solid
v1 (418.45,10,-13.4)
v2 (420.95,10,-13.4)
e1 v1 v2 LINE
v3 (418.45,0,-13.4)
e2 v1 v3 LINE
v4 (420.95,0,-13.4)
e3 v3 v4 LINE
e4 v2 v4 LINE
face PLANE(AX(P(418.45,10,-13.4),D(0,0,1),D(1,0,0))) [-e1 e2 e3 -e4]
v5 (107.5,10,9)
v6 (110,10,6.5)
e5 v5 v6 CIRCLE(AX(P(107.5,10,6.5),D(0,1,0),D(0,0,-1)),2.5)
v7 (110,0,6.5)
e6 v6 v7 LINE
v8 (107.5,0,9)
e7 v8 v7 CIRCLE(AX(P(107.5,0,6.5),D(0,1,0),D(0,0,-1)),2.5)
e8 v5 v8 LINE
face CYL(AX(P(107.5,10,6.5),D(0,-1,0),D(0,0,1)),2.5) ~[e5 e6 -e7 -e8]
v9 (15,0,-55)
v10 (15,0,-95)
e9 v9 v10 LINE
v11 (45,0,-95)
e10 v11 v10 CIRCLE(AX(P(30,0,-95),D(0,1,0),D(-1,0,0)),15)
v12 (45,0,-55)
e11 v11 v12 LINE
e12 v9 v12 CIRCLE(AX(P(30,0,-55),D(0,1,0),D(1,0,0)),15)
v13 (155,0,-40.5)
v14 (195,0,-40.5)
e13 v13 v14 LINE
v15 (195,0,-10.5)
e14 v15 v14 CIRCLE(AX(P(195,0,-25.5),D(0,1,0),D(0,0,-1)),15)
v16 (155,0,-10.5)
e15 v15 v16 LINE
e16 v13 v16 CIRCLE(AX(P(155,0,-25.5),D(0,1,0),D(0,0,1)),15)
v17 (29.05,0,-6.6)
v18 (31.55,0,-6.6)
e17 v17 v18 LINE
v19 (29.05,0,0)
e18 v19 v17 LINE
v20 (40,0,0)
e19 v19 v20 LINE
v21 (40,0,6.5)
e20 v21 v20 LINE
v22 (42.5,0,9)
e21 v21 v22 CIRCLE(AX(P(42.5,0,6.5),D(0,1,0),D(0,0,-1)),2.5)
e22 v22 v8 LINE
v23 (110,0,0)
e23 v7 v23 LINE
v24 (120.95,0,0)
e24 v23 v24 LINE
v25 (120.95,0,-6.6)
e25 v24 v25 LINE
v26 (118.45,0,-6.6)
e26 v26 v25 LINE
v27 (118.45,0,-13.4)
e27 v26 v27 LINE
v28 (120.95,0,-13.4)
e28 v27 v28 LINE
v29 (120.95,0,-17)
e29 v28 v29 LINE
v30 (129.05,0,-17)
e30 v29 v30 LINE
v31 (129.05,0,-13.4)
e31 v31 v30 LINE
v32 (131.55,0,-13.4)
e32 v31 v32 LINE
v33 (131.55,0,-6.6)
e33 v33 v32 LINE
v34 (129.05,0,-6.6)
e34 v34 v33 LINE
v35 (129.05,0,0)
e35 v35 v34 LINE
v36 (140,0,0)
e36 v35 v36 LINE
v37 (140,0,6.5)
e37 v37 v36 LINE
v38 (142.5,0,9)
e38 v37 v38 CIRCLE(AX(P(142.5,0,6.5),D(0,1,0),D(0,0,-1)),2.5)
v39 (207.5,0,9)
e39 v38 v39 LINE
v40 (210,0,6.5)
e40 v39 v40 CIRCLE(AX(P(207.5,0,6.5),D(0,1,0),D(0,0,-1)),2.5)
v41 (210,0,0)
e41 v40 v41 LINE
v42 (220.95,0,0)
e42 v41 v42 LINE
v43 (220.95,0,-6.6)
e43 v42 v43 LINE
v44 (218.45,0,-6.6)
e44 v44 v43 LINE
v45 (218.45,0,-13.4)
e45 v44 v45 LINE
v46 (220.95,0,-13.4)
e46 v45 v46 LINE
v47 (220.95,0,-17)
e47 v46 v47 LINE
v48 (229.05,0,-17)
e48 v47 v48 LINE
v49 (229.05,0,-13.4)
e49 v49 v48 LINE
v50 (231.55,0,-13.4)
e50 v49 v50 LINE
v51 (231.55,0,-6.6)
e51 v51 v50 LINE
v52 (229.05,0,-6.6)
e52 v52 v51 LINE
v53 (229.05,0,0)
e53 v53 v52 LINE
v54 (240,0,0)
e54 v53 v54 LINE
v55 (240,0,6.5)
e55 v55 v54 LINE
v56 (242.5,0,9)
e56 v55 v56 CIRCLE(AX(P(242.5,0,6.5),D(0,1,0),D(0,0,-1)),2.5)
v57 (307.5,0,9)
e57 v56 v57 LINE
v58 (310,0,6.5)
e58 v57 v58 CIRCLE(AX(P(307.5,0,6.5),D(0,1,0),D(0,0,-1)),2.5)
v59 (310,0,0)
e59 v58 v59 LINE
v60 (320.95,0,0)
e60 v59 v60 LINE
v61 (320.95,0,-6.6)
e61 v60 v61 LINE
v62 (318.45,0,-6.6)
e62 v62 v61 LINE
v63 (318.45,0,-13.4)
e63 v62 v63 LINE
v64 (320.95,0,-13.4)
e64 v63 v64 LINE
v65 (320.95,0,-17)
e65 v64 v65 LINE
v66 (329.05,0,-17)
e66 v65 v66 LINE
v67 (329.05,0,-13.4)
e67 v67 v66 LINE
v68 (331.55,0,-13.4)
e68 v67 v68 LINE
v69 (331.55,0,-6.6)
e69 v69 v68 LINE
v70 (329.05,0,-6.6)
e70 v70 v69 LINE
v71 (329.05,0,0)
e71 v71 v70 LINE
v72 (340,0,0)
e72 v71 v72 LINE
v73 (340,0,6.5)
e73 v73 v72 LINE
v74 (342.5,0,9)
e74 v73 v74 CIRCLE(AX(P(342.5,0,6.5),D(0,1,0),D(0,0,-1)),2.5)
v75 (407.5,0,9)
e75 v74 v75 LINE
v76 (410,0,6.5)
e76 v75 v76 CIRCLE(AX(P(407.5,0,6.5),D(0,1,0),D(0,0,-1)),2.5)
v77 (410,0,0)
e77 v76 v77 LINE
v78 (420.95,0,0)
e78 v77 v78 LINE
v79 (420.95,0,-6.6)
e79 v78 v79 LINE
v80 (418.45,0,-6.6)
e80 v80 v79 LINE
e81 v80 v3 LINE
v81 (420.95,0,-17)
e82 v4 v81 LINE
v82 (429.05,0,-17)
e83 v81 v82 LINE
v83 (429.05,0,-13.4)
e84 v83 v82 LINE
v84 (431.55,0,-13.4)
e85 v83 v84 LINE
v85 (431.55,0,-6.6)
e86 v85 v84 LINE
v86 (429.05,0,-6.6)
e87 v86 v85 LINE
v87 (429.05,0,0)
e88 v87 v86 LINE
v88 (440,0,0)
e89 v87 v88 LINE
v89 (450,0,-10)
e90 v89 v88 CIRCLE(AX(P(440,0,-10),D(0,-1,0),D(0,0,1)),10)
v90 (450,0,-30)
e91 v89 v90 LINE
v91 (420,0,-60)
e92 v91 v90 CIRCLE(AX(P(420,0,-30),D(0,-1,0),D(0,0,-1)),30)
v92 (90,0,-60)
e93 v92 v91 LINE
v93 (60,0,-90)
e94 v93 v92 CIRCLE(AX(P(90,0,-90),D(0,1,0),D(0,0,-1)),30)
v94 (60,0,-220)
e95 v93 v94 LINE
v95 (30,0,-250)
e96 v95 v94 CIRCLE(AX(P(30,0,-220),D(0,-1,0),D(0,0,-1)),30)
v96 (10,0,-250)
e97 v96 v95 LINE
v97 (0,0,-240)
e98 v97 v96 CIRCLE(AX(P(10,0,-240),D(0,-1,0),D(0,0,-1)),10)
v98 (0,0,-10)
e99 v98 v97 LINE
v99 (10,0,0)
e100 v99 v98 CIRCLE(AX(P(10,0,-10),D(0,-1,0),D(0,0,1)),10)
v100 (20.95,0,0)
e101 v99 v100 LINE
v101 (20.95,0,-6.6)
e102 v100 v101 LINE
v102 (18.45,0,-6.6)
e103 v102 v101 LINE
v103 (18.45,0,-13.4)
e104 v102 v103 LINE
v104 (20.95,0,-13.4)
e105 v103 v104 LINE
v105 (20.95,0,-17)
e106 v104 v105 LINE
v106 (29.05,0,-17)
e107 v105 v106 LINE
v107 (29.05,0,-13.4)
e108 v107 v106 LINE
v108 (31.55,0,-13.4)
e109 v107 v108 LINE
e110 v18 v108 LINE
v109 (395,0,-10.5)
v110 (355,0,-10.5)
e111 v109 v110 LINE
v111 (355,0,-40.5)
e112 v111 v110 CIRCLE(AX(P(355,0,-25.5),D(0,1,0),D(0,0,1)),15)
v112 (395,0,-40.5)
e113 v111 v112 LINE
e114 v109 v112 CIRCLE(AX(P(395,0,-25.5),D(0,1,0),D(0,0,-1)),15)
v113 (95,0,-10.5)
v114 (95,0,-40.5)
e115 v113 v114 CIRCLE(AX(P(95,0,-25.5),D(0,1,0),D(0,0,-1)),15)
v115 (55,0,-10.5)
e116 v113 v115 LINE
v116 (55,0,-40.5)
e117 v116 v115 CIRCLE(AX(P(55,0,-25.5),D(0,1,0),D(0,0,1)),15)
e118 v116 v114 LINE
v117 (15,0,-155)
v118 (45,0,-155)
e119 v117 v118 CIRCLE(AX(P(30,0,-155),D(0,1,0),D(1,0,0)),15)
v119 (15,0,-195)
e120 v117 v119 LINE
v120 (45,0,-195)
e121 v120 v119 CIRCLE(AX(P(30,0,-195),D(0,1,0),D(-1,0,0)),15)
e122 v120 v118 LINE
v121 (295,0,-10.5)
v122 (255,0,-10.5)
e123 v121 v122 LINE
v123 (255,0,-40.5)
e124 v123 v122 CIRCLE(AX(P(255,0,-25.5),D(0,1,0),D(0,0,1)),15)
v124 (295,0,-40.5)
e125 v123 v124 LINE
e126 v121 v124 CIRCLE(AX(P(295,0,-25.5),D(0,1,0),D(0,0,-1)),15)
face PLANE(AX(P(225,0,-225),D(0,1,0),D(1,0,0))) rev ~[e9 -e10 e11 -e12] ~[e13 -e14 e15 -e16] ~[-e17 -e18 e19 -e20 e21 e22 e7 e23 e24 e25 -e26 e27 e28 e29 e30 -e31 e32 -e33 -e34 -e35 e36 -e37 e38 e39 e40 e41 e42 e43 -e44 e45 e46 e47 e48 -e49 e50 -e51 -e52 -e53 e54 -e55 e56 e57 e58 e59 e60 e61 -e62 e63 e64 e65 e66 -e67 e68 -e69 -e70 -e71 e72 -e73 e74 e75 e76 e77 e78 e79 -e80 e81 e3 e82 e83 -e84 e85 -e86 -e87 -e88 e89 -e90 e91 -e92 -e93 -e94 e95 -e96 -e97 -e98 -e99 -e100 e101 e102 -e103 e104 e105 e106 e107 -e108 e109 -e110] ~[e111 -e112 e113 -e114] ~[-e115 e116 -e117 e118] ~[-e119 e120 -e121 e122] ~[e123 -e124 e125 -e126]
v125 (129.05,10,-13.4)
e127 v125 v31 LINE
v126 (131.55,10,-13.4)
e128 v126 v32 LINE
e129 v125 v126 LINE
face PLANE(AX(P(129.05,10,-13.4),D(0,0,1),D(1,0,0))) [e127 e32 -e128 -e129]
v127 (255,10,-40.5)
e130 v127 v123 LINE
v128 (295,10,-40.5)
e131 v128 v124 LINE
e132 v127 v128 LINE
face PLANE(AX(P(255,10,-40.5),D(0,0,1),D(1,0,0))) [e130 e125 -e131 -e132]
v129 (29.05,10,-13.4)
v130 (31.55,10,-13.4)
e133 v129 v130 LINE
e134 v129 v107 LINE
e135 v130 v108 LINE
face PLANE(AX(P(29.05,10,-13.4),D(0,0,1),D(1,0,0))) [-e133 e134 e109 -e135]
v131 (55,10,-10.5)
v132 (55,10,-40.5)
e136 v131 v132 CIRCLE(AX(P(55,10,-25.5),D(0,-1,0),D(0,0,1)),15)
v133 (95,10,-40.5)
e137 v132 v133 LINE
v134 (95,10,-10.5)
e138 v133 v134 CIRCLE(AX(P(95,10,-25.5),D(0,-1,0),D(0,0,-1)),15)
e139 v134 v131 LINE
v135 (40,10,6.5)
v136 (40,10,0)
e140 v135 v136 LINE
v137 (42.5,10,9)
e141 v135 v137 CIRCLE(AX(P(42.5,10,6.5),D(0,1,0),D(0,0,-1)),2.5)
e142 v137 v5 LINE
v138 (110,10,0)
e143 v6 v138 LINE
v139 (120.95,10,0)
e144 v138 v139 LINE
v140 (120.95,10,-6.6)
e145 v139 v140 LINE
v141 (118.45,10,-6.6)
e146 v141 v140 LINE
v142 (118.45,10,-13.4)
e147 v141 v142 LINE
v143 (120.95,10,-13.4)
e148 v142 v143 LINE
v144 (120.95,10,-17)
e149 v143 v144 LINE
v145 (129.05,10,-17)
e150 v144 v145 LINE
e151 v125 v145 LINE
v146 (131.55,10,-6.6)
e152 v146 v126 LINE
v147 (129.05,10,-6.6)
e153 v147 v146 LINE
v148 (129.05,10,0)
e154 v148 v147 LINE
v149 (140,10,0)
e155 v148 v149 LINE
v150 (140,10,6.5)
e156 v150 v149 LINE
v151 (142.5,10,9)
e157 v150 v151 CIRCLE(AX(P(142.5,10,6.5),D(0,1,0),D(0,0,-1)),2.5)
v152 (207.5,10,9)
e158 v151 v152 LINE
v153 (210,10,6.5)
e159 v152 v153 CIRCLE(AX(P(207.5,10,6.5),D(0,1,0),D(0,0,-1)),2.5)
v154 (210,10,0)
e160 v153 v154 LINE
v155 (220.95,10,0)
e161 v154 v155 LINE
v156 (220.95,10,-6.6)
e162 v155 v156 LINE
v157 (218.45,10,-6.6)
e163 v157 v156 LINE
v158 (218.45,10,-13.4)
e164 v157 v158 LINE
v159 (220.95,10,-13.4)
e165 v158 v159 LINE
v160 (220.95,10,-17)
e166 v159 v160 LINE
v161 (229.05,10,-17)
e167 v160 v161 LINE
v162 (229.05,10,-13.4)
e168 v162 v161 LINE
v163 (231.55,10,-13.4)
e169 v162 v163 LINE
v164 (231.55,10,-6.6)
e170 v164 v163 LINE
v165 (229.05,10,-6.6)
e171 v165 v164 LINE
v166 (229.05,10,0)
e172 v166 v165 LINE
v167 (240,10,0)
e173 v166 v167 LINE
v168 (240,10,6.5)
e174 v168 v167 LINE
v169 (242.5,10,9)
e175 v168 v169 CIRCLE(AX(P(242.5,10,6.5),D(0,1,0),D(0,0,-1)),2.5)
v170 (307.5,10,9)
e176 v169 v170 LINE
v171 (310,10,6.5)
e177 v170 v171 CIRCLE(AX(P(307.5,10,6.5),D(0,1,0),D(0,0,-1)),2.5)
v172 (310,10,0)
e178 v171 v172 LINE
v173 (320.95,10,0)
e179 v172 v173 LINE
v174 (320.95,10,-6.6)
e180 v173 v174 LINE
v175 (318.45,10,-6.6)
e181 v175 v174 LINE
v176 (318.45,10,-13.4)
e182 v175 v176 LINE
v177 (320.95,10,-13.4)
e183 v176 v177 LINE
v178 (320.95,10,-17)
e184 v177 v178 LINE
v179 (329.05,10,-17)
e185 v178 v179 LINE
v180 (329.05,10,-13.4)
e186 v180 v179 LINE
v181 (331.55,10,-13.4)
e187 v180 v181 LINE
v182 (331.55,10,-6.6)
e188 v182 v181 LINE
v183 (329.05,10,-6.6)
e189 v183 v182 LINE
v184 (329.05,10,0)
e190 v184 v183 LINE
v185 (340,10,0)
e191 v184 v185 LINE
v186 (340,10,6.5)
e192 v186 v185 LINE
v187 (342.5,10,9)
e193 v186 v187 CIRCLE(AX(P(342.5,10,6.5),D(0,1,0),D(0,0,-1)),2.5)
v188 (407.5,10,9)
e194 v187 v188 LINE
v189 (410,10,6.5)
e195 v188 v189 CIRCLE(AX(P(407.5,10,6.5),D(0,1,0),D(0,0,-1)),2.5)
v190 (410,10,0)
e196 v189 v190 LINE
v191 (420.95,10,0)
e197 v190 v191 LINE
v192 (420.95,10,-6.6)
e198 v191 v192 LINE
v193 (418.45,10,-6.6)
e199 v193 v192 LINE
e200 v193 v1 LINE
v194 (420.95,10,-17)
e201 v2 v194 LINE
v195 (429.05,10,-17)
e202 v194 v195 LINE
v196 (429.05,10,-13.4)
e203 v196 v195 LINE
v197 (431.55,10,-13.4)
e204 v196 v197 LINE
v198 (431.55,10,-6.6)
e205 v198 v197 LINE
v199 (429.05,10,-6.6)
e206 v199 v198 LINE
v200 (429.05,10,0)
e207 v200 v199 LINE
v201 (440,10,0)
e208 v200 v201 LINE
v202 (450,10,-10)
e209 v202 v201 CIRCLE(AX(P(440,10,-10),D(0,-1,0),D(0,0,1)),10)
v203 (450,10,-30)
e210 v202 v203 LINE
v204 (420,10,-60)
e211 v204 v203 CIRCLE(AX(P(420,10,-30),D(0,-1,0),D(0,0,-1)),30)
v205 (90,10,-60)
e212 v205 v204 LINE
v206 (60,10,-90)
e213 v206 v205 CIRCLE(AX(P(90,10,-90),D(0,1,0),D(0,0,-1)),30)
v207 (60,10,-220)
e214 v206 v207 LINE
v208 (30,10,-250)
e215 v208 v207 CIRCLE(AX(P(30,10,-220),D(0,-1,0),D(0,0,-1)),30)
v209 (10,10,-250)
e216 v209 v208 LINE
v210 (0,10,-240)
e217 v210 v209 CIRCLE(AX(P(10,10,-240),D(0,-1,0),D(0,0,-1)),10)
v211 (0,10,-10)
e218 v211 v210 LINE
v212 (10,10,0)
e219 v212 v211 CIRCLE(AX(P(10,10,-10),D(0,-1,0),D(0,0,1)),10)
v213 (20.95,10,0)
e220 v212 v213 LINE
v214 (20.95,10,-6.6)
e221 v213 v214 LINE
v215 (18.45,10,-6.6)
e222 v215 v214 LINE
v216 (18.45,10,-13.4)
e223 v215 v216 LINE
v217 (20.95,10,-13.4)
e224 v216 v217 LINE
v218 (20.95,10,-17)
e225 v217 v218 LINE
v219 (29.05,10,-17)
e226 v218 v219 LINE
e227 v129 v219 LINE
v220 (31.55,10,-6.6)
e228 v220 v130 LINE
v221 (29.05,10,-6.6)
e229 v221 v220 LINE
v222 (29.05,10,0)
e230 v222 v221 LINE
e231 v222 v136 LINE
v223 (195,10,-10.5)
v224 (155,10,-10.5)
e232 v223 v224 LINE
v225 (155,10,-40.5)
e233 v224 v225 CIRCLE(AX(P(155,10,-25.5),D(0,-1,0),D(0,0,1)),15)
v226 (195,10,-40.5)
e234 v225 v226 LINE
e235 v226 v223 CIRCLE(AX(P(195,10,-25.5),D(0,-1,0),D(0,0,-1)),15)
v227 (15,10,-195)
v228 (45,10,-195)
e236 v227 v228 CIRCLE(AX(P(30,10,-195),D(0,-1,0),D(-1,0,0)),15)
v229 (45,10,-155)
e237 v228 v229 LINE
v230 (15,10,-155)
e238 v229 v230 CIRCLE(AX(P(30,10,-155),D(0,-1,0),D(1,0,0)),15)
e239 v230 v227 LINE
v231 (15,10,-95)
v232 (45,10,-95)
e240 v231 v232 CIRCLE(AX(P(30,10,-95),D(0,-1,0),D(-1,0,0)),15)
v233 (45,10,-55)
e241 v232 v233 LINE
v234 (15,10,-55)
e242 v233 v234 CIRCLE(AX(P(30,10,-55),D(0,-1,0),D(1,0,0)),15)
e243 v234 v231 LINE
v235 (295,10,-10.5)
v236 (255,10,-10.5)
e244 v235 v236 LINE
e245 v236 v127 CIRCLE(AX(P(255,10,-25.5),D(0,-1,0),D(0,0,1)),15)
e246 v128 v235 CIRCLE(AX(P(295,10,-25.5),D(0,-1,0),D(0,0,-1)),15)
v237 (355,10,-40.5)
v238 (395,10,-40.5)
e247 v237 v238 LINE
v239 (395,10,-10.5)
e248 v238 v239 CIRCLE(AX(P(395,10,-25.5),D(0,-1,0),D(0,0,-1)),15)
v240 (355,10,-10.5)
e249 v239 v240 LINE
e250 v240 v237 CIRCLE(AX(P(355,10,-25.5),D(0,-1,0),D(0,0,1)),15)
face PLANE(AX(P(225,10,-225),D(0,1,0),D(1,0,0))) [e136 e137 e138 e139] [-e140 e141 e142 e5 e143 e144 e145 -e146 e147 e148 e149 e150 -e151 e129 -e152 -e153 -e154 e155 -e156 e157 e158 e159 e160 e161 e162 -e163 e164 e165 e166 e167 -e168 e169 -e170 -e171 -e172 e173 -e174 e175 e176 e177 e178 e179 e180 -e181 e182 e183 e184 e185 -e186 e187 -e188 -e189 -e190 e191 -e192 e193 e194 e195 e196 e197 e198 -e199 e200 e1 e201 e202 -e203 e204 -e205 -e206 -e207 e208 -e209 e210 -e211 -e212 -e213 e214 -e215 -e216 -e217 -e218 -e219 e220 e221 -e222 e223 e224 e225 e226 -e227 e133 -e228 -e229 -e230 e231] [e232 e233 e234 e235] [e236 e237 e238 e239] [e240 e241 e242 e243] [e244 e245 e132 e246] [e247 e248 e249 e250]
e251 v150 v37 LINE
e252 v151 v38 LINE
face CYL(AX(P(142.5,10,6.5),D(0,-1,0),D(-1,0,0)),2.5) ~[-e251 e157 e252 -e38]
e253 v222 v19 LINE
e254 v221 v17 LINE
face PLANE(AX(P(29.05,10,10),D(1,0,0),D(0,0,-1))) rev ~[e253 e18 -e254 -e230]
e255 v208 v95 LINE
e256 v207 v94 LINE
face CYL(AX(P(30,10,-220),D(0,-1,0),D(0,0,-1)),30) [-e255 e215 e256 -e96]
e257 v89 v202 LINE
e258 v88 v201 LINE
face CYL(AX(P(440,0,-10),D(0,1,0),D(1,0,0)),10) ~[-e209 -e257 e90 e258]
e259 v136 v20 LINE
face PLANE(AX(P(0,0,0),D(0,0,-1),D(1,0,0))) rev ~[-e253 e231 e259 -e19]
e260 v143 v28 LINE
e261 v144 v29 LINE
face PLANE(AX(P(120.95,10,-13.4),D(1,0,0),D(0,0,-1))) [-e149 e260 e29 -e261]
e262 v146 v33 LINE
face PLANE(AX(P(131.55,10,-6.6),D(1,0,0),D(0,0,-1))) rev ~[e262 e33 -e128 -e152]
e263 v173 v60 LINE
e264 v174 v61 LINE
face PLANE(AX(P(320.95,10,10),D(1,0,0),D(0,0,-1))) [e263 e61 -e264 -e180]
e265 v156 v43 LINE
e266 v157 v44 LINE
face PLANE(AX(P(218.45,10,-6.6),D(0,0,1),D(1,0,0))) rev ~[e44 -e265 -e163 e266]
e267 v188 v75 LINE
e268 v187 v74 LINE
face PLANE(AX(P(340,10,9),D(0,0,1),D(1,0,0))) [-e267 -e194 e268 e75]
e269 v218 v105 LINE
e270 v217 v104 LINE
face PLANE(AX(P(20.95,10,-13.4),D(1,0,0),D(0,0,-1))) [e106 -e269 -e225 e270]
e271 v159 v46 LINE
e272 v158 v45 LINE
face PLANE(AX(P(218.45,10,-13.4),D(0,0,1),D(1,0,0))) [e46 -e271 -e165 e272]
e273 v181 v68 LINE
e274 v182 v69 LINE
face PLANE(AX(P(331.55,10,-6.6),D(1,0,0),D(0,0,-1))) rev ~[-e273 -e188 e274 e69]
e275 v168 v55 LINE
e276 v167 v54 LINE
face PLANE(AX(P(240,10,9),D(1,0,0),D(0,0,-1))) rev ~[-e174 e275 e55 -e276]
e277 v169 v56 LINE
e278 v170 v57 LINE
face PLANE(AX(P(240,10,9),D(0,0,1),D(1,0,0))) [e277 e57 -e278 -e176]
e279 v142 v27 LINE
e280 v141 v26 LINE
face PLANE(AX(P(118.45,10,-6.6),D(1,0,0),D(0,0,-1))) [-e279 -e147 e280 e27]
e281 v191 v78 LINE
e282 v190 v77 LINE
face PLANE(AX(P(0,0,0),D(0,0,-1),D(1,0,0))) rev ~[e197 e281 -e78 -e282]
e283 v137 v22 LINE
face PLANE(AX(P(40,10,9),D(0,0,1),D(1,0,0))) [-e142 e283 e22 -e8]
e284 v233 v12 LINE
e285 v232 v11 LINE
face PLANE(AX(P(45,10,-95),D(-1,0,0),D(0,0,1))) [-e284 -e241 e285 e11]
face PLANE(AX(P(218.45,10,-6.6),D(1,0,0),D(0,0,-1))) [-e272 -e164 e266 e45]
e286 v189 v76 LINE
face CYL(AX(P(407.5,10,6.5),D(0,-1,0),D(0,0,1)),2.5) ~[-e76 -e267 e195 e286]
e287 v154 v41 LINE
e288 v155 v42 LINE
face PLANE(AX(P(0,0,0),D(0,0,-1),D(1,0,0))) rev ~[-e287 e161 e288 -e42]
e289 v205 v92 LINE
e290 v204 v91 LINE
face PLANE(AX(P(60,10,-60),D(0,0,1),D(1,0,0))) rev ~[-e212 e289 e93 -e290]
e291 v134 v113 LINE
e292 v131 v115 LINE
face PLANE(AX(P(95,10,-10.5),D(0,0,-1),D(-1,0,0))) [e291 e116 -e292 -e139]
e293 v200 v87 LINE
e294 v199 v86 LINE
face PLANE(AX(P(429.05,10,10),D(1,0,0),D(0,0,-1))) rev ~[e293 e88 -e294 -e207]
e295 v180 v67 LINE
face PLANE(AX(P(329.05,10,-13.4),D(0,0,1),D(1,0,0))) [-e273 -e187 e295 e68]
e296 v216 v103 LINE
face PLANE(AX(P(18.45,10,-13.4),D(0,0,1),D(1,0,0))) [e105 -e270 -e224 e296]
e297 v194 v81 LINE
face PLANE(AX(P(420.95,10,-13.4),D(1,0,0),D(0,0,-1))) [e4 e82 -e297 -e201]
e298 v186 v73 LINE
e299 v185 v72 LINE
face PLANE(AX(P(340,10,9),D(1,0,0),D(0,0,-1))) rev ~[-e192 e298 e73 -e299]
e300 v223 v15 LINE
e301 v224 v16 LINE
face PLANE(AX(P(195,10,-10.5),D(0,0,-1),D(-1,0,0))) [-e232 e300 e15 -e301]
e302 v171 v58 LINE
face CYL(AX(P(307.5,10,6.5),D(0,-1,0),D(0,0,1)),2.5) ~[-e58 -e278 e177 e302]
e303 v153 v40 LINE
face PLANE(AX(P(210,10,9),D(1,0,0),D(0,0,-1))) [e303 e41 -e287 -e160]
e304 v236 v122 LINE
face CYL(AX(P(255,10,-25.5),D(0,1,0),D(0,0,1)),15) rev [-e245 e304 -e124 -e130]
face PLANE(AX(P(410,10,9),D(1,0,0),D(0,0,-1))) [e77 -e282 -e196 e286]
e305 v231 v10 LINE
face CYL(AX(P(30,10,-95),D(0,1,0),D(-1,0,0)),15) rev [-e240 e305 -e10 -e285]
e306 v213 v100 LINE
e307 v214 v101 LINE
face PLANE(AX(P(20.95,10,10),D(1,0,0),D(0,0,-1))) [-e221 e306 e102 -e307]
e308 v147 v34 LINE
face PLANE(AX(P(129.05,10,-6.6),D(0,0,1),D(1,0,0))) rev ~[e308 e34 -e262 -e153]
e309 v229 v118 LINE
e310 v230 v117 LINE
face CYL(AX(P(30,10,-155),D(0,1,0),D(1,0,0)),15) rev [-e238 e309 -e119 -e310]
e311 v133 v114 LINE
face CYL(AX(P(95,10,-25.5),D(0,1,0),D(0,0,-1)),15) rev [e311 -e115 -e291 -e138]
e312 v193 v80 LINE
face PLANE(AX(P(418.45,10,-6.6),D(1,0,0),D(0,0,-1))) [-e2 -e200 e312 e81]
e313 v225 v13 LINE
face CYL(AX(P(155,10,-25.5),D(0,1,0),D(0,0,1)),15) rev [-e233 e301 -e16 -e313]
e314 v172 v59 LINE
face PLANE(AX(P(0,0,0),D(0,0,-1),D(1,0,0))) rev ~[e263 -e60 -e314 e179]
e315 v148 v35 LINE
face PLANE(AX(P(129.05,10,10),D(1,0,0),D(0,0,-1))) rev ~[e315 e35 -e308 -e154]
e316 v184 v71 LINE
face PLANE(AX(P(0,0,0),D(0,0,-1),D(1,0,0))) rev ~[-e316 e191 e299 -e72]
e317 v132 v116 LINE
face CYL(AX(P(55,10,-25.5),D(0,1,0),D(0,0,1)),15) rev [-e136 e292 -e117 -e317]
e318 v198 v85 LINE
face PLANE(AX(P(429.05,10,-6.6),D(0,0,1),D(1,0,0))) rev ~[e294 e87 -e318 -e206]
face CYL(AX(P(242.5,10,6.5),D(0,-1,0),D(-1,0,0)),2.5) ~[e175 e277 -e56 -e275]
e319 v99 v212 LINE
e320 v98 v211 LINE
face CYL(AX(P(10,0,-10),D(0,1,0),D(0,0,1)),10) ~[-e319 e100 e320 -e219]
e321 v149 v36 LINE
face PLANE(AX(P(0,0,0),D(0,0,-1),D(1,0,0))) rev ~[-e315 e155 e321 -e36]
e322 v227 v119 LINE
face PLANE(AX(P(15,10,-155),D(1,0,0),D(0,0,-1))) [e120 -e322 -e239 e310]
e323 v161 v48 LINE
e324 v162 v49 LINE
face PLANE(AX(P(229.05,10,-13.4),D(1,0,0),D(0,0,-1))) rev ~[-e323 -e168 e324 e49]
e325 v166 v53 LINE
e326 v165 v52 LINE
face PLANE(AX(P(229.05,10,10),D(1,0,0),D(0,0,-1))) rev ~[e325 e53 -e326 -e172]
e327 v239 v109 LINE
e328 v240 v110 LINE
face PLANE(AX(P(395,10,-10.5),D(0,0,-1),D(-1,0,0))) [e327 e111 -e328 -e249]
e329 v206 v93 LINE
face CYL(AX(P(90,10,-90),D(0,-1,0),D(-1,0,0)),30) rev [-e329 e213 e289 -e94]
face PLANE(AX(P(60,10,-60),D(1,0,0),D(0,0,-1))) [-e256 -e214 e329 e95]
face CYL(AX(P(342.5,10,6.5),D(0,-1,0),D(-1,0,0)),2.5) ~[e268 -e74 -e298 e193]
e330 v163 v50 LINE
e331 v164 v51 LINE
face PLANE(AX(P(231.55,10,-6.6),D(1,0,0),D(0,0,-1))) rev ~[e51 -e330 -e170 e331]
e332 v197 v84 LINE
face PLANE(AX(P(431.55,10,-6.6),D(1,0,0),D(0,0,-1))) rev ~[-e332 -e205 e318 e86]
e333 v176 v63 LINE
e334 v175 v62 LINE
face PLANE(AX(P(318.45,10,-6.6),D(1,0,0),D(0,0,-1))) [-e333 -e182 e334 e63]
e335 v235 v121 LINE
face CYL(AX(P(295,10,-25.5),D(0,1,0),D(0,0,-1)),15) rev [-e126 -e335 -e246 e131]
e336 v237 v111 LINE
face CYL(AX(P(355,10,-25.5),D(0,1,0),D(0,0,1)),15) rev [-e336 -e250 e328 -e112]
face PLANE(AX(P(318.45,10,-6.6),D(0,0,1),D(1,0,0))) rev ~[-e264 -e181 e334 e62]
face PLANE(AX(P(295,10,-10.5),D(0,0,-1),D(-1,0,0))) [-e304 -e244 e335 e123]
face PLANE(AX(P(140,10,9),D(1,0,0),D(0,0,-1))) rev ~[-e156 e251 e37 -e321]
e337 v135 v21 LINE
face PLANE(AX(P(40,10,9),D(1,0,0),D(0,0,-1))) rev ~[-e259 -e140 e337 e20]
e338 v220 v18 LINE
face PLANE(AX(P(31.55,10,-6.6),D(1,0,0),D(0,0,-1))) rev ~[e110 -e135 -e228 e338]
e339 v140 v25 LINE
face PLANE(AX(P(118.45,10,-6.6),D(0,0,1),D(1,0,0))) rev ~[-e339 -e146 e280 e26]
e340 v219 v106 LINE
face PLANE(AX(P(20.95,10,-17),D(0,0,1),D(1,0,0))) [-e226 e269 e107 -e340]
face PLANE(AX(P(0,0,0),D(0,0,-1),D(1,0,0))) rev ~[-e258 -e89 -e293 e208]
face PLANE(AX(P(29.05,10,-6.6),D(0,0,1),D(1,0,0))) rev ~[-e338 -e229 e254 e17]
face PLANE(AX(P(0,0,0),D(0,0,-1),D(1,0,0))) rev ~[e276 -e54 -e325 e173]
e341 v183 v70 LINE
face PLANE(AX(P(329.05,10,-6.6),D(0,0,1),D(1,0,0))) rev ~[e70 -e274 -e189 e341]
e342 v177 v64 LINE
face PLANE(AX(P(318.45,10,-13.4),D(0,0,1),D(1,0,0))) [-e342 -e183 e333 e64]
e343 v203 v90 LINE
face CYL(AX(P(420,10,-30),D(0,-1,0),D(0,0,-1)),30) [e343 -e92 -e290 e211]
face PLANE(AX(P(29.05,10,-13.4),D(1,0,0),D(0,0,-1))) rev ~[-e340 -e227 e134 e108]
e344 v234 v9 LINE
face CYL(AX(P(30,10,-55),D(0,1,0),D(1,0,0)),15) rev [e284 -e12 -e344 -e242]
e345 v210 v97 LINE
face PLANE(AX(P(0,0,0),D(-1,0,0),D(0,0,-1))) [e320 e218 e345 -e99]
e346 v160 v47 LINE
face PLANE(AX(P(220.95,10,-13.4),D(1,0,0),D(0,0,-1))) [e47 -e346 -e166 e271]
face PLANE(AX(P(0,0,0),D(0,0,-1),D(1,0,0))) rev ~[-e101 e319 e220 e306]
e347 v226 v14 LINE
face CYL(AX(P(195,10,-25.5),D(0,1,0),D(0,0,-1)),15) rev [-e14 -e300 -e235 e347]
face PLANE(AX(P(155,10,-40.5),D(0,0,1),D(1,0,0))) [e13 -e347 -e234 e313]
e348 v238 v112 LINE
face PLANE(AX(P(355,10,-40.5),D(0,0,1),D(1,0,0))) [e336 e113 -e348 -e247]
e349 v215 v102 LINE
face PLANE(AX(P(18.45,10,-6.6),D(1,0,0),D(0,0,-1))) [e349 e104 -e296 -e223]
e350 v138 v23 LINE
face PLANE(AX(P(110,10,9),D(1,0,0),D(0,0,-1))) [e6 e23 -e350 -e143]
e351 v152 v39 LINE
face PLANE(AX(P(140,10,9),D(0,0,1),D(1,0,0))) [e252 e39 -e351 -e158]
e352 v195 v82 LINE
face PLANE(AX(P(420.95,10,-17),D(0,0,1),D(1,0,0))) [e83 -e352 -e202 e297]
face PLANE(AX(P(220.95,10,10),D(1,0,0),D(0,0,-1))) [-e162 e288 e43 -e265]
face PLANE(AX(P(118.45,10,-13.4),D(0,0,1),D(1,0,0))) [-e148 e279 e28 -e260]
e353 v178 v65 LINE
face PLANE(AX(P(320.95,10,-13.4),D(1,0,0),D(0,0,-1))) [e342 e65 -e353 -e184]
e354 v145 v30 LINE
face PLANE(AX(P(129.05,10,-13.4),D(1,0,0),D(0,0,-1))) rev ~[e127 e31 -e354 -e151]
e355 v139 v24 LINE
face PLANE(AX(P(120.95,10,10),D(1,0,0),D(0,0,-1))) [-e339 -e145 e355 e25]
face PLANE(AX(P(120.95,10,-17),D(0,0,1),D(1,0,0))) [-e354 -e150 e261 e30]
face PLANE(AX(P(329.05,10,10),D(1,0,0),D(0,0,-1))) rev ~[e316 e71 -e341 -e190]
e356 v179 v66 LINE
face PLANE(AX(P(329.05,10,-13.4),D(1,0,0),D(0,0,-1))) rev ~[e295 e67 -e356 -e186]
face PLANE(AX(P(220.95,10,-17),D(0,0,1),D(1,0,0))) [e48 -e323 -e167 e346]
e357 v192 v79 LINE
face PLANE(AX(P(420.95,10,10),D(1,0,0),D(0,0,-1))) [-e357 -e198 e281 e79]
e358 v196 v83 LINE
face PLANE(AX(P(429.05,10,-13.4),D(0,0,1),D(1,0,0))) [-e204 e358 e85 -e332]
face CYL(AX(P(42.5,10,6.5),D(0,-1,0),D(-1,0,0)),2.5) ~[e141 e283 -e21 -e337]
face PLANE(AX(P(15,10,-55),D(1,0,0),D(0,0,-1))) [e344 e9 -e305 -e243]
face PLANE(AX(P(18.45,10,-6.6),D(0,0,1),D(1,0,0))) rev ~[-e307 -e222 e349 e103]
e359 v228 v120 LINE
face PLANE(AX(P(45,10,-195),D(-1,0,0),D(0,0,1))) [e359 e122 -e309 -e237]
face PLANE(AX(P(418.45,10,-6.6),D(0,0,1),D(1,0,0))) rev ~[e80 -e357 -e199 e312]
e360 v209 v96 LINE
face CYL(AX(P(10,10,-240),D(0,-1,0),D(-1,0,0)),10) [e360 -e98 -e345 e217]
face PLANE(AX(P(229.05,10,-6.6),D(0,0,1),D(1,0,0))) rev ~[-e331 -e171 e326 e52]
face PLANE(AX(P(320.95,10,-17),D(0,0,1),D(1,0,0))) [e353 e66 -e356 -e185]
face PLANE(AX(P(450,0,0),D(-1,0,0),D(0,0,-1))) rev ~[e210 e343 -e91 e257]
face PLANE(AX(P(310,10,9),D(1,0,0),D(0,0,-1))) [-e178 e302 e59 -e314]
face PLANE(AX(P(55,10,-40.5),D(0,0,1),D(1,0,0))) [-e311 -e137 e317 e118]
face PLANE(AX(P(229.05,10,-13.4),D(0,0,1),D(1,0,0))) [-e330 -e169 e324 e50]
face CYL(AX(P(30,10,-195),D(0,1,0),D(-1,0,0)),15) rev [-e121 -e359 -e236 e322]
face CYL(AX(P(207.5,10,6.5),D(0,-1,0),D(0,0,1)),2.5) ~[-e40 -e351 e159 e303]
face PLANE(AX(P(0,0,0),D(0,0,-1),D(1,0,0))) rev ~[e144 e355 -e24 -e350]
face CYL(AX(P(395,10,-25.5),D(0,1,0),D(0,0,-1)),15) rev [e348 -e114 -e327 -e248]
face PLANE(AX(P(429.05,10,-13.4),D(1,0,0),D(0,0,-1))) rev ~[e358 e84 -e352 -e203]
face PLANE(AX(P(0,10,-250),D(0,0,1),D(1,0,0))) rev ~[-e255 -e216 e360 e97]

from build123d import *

# Parameters (mm, degrees)
SKETCH1_W              = 450
SKETCH1_H              = 450
BOSS_EXTRUDE1_DEPTH    = 10
SKETCH2_W              = 8.1
SKETCH2_H              = 27
SKETCH2_W_2            = 13.1
SKETCH2_H_2            = 6.8
CUT_EXTRUDE1_DEPTH     = 637.474665639
LPATTERN1_COUNT        = 3
LPATTERN1_PITCH        = 100
LPATTERN1_COL_COUNT    = 3
LPATTERN1_COL_PITCH    = 100
SKETCH3_W              = 70
SKETCH3_H              = 9
BOSS_EXTRUDE2_DEPTH    = 10
FILLET1_R              = 2.5
LPATTERN2_COUNT        = 4
LPATTERN2_PITCH        = 100
FILLET1_OF_LPATTERN2_R = 2.5
SKETCH4_W              = 390
SKETCH4_H              = 390
SKETCH4_W_2            = 60
SKETCH4_H_2            = 200
CUT_EXTRUDE2_DEPTH     = 637.474665639
CUT_EXTRUDE3_DEPTH     = 515.878626474
FILLET2_R              = 10
FILLET3_R              = 30


with BuildPart() as part:
    # Sketch1 → Boss-Extrude1 (new body)
    with BuildSketch(Plane(origin=(0, 0, 0), x_dir=(1, 0, 0), z_dir=(0, 1, 0))):
        with Locations((225, 225)):
            Rectangle(SKETCH1_W, SKETCH1_H)
    extrude(amount=BOSS_EXTRUDE1_DEPTH)

    # Sketch2 → Cut-Extrude1 (cut, through all)
    with BuildSketch(Plane(origin=(0, 10, 0), x_dir=(1, 0, 0), z_dir=(0, 1, 0))):
        with Locations((225, 3.5)):
            Rectangle(SKETCH2_W, SKETCH2_H)
        with Locations((225, 10)):
            Rectangle(SKETCH2_W_2, SKETCH2_H_2)
    cut_extrude1 = extrude(amount=-CUT_EXTRUDE1_DEPTH, mode=Mode.SUBTRACT)

    # LPattern1: Cut-Extrude1 ×3
    with Locations(*[(-i * LPATTERN1_PITCH, 0, 0) for i in range(1, LPATTERN1_COUNT)]):
        add(cut_extrude1, mode=Mode.SUBTRACT)

    # LPattern1 col: Cut-Extrude1 ×3
    with Locations(*[(i * LPATTERN1_COL_PITCH, 0, 0) for i in range(1, LPATTERN1_COL_COUNT)]):
        add(cut_extrude1, mode=Mode.SUBTRACT)

    # Sketch3 → Boss-Extrude2 (add)
    with BuildSketch(Plane(origin=(0, 10, 0), x_dir=(1, 0, 0), z_dir=(0, 1, 0))):
        with Locations((75, -4.5)):
            Rectangle(SKETCH3_W, SKETCH3_H)
    boss_extrude2 = extrude(amount=-BOSS_EXTRUDE2_DEPTH)

    # Fillet1
    fillet1_edges = [part.edges().sort_by_distance(p)[0] for p in [
        (110, 5, 9),
        (40, 5, 9),
    ]]
    fillet(fillet1_edges, radius=FILLET1_R)

    # LPattern2: Boss-Extrude2 ×4
    with Locations(*[(i * LPATTERN2_PITCH, 0, 0) for i in range(1, LPATTERN2_COUNT)]):
        add(boss_extrude2)

    # Fillet1 of LPattern2
    fillet1_of_lpattern2_edges = [part.edges().sort_by_distance(p)[0] for p in [
        (210, 5, 9),
        (140, 5, 9),
        (310, 5, 9),
        (240, 5, 9),
        (410, 5, 9),
        (340, 5, 9),
    ]]
    fillet(fillet1_of_lpattern2_edges, radius=FILLET1_OF_LPATTERN2_R)

    # Sketch4 → Cut-Extrude2 (cut, through all)
    with BuildSketch(Plane(origin=(0, 10, 0), x_dir=(1, 0, 0), z_dir=(0, 1, 0))):
        with Locations((255, 255)):
            Rectangle(SKETCH4_W, SKETCH4_H)
        with Locations((30, 350)):
            Rectangle(SKETCH4_W_2, SKETCH4_H_2)
    extrude(amount=-CUT_EXTRUDE2_DEPTH, mode=Mode.SUBTRACT)

    # Sketch5 → Cut-Extrude3 (cut, through all)
    with BuildSketch(Plane(origin=(0, 10, 0), x_dir=(1, 0, 0), z_dir=(0, 1, 0))):
        with BuildLine():
            Line((55, 40.5), (95, 40.5))
            ThreePointArc((95, 40.5), (110, 25.5), (95, 10.5))
            Line((95, 10.5), (55, 10.5))
            ThreePointArc((55, 10.5), (40, 25.5), (55, 40.5))
        make_face()
        with BuildLine():
            Line((155, 40.5), (195, 40.5))
            ThreePointArc((195, 40.5), (210, 25.5), (195, 10.5))
            Line((195, 10.5), (155, 10.5))
            ThreePointArc((155, 10.5), (140, 25.5), (155, 40.5))
        make_face()
        with BuildLine():
            Line((255, 40.5), (295, 40.5))
            ThreePointArc((295, 40.5), (310, 25.5), (295, 10.5))
            Line((295, 10.5), (255, 10.5))
            ThreePointArc((255, 10.5), (240, 25.5), (255, 40.5))
        make_face()
        with BuildLine():
            Line((355, 40.5), (395, 40.5))
            ThreePointArc((395, 40.5), (410, 25.5), (395, 10.5))
            Line((395, 10.5), (355, 10.5))
            ThreePointArc((355, 10.5), (340, 25.5), (355, 40.5))
        make_face()
        with BuildLine():
            Line((15, 55), (15, 95))
            ThreePointArc((15, 95), (30, 110), (45, 95))
            Line((45, 95), (45, 55))
            ThreePointArc((45, 55), (30, 40), (15, 55))
        make_face()
        with BuildLine():
            Line((45, 195), (45, 155))
            ThreePointArc((45, 155), (30, 140), (15, 155))
            Line((15, 155), (15, 195))
            ThreePointArc((15, 195), (30, 210), (45, 195))
        make_face()
    extrude(amount=-CUT_EXTRUDE3_DEPTH, mode=Mode.SUBTRACT)

    # Fillet2
    fillet2_edges = [part.edges().sort_by_distance(p)[0] for p in [
        (0, 5, -250),
        (450, 5, 0),
        (0, 5, 0),
    ]]
    fillet(fillet2_edges, radius=FILLET2_R)

    # Fillet3
    fillet3_edges = [part.edges().sort_by_distance(p)[0] for p in [
        (450, 5, -60),
        (60, 5, -60),
        (60, 5, -250),
    ]]
    fillet(fillet3_edges, radius=FILLET3_R)


solid = part.part
